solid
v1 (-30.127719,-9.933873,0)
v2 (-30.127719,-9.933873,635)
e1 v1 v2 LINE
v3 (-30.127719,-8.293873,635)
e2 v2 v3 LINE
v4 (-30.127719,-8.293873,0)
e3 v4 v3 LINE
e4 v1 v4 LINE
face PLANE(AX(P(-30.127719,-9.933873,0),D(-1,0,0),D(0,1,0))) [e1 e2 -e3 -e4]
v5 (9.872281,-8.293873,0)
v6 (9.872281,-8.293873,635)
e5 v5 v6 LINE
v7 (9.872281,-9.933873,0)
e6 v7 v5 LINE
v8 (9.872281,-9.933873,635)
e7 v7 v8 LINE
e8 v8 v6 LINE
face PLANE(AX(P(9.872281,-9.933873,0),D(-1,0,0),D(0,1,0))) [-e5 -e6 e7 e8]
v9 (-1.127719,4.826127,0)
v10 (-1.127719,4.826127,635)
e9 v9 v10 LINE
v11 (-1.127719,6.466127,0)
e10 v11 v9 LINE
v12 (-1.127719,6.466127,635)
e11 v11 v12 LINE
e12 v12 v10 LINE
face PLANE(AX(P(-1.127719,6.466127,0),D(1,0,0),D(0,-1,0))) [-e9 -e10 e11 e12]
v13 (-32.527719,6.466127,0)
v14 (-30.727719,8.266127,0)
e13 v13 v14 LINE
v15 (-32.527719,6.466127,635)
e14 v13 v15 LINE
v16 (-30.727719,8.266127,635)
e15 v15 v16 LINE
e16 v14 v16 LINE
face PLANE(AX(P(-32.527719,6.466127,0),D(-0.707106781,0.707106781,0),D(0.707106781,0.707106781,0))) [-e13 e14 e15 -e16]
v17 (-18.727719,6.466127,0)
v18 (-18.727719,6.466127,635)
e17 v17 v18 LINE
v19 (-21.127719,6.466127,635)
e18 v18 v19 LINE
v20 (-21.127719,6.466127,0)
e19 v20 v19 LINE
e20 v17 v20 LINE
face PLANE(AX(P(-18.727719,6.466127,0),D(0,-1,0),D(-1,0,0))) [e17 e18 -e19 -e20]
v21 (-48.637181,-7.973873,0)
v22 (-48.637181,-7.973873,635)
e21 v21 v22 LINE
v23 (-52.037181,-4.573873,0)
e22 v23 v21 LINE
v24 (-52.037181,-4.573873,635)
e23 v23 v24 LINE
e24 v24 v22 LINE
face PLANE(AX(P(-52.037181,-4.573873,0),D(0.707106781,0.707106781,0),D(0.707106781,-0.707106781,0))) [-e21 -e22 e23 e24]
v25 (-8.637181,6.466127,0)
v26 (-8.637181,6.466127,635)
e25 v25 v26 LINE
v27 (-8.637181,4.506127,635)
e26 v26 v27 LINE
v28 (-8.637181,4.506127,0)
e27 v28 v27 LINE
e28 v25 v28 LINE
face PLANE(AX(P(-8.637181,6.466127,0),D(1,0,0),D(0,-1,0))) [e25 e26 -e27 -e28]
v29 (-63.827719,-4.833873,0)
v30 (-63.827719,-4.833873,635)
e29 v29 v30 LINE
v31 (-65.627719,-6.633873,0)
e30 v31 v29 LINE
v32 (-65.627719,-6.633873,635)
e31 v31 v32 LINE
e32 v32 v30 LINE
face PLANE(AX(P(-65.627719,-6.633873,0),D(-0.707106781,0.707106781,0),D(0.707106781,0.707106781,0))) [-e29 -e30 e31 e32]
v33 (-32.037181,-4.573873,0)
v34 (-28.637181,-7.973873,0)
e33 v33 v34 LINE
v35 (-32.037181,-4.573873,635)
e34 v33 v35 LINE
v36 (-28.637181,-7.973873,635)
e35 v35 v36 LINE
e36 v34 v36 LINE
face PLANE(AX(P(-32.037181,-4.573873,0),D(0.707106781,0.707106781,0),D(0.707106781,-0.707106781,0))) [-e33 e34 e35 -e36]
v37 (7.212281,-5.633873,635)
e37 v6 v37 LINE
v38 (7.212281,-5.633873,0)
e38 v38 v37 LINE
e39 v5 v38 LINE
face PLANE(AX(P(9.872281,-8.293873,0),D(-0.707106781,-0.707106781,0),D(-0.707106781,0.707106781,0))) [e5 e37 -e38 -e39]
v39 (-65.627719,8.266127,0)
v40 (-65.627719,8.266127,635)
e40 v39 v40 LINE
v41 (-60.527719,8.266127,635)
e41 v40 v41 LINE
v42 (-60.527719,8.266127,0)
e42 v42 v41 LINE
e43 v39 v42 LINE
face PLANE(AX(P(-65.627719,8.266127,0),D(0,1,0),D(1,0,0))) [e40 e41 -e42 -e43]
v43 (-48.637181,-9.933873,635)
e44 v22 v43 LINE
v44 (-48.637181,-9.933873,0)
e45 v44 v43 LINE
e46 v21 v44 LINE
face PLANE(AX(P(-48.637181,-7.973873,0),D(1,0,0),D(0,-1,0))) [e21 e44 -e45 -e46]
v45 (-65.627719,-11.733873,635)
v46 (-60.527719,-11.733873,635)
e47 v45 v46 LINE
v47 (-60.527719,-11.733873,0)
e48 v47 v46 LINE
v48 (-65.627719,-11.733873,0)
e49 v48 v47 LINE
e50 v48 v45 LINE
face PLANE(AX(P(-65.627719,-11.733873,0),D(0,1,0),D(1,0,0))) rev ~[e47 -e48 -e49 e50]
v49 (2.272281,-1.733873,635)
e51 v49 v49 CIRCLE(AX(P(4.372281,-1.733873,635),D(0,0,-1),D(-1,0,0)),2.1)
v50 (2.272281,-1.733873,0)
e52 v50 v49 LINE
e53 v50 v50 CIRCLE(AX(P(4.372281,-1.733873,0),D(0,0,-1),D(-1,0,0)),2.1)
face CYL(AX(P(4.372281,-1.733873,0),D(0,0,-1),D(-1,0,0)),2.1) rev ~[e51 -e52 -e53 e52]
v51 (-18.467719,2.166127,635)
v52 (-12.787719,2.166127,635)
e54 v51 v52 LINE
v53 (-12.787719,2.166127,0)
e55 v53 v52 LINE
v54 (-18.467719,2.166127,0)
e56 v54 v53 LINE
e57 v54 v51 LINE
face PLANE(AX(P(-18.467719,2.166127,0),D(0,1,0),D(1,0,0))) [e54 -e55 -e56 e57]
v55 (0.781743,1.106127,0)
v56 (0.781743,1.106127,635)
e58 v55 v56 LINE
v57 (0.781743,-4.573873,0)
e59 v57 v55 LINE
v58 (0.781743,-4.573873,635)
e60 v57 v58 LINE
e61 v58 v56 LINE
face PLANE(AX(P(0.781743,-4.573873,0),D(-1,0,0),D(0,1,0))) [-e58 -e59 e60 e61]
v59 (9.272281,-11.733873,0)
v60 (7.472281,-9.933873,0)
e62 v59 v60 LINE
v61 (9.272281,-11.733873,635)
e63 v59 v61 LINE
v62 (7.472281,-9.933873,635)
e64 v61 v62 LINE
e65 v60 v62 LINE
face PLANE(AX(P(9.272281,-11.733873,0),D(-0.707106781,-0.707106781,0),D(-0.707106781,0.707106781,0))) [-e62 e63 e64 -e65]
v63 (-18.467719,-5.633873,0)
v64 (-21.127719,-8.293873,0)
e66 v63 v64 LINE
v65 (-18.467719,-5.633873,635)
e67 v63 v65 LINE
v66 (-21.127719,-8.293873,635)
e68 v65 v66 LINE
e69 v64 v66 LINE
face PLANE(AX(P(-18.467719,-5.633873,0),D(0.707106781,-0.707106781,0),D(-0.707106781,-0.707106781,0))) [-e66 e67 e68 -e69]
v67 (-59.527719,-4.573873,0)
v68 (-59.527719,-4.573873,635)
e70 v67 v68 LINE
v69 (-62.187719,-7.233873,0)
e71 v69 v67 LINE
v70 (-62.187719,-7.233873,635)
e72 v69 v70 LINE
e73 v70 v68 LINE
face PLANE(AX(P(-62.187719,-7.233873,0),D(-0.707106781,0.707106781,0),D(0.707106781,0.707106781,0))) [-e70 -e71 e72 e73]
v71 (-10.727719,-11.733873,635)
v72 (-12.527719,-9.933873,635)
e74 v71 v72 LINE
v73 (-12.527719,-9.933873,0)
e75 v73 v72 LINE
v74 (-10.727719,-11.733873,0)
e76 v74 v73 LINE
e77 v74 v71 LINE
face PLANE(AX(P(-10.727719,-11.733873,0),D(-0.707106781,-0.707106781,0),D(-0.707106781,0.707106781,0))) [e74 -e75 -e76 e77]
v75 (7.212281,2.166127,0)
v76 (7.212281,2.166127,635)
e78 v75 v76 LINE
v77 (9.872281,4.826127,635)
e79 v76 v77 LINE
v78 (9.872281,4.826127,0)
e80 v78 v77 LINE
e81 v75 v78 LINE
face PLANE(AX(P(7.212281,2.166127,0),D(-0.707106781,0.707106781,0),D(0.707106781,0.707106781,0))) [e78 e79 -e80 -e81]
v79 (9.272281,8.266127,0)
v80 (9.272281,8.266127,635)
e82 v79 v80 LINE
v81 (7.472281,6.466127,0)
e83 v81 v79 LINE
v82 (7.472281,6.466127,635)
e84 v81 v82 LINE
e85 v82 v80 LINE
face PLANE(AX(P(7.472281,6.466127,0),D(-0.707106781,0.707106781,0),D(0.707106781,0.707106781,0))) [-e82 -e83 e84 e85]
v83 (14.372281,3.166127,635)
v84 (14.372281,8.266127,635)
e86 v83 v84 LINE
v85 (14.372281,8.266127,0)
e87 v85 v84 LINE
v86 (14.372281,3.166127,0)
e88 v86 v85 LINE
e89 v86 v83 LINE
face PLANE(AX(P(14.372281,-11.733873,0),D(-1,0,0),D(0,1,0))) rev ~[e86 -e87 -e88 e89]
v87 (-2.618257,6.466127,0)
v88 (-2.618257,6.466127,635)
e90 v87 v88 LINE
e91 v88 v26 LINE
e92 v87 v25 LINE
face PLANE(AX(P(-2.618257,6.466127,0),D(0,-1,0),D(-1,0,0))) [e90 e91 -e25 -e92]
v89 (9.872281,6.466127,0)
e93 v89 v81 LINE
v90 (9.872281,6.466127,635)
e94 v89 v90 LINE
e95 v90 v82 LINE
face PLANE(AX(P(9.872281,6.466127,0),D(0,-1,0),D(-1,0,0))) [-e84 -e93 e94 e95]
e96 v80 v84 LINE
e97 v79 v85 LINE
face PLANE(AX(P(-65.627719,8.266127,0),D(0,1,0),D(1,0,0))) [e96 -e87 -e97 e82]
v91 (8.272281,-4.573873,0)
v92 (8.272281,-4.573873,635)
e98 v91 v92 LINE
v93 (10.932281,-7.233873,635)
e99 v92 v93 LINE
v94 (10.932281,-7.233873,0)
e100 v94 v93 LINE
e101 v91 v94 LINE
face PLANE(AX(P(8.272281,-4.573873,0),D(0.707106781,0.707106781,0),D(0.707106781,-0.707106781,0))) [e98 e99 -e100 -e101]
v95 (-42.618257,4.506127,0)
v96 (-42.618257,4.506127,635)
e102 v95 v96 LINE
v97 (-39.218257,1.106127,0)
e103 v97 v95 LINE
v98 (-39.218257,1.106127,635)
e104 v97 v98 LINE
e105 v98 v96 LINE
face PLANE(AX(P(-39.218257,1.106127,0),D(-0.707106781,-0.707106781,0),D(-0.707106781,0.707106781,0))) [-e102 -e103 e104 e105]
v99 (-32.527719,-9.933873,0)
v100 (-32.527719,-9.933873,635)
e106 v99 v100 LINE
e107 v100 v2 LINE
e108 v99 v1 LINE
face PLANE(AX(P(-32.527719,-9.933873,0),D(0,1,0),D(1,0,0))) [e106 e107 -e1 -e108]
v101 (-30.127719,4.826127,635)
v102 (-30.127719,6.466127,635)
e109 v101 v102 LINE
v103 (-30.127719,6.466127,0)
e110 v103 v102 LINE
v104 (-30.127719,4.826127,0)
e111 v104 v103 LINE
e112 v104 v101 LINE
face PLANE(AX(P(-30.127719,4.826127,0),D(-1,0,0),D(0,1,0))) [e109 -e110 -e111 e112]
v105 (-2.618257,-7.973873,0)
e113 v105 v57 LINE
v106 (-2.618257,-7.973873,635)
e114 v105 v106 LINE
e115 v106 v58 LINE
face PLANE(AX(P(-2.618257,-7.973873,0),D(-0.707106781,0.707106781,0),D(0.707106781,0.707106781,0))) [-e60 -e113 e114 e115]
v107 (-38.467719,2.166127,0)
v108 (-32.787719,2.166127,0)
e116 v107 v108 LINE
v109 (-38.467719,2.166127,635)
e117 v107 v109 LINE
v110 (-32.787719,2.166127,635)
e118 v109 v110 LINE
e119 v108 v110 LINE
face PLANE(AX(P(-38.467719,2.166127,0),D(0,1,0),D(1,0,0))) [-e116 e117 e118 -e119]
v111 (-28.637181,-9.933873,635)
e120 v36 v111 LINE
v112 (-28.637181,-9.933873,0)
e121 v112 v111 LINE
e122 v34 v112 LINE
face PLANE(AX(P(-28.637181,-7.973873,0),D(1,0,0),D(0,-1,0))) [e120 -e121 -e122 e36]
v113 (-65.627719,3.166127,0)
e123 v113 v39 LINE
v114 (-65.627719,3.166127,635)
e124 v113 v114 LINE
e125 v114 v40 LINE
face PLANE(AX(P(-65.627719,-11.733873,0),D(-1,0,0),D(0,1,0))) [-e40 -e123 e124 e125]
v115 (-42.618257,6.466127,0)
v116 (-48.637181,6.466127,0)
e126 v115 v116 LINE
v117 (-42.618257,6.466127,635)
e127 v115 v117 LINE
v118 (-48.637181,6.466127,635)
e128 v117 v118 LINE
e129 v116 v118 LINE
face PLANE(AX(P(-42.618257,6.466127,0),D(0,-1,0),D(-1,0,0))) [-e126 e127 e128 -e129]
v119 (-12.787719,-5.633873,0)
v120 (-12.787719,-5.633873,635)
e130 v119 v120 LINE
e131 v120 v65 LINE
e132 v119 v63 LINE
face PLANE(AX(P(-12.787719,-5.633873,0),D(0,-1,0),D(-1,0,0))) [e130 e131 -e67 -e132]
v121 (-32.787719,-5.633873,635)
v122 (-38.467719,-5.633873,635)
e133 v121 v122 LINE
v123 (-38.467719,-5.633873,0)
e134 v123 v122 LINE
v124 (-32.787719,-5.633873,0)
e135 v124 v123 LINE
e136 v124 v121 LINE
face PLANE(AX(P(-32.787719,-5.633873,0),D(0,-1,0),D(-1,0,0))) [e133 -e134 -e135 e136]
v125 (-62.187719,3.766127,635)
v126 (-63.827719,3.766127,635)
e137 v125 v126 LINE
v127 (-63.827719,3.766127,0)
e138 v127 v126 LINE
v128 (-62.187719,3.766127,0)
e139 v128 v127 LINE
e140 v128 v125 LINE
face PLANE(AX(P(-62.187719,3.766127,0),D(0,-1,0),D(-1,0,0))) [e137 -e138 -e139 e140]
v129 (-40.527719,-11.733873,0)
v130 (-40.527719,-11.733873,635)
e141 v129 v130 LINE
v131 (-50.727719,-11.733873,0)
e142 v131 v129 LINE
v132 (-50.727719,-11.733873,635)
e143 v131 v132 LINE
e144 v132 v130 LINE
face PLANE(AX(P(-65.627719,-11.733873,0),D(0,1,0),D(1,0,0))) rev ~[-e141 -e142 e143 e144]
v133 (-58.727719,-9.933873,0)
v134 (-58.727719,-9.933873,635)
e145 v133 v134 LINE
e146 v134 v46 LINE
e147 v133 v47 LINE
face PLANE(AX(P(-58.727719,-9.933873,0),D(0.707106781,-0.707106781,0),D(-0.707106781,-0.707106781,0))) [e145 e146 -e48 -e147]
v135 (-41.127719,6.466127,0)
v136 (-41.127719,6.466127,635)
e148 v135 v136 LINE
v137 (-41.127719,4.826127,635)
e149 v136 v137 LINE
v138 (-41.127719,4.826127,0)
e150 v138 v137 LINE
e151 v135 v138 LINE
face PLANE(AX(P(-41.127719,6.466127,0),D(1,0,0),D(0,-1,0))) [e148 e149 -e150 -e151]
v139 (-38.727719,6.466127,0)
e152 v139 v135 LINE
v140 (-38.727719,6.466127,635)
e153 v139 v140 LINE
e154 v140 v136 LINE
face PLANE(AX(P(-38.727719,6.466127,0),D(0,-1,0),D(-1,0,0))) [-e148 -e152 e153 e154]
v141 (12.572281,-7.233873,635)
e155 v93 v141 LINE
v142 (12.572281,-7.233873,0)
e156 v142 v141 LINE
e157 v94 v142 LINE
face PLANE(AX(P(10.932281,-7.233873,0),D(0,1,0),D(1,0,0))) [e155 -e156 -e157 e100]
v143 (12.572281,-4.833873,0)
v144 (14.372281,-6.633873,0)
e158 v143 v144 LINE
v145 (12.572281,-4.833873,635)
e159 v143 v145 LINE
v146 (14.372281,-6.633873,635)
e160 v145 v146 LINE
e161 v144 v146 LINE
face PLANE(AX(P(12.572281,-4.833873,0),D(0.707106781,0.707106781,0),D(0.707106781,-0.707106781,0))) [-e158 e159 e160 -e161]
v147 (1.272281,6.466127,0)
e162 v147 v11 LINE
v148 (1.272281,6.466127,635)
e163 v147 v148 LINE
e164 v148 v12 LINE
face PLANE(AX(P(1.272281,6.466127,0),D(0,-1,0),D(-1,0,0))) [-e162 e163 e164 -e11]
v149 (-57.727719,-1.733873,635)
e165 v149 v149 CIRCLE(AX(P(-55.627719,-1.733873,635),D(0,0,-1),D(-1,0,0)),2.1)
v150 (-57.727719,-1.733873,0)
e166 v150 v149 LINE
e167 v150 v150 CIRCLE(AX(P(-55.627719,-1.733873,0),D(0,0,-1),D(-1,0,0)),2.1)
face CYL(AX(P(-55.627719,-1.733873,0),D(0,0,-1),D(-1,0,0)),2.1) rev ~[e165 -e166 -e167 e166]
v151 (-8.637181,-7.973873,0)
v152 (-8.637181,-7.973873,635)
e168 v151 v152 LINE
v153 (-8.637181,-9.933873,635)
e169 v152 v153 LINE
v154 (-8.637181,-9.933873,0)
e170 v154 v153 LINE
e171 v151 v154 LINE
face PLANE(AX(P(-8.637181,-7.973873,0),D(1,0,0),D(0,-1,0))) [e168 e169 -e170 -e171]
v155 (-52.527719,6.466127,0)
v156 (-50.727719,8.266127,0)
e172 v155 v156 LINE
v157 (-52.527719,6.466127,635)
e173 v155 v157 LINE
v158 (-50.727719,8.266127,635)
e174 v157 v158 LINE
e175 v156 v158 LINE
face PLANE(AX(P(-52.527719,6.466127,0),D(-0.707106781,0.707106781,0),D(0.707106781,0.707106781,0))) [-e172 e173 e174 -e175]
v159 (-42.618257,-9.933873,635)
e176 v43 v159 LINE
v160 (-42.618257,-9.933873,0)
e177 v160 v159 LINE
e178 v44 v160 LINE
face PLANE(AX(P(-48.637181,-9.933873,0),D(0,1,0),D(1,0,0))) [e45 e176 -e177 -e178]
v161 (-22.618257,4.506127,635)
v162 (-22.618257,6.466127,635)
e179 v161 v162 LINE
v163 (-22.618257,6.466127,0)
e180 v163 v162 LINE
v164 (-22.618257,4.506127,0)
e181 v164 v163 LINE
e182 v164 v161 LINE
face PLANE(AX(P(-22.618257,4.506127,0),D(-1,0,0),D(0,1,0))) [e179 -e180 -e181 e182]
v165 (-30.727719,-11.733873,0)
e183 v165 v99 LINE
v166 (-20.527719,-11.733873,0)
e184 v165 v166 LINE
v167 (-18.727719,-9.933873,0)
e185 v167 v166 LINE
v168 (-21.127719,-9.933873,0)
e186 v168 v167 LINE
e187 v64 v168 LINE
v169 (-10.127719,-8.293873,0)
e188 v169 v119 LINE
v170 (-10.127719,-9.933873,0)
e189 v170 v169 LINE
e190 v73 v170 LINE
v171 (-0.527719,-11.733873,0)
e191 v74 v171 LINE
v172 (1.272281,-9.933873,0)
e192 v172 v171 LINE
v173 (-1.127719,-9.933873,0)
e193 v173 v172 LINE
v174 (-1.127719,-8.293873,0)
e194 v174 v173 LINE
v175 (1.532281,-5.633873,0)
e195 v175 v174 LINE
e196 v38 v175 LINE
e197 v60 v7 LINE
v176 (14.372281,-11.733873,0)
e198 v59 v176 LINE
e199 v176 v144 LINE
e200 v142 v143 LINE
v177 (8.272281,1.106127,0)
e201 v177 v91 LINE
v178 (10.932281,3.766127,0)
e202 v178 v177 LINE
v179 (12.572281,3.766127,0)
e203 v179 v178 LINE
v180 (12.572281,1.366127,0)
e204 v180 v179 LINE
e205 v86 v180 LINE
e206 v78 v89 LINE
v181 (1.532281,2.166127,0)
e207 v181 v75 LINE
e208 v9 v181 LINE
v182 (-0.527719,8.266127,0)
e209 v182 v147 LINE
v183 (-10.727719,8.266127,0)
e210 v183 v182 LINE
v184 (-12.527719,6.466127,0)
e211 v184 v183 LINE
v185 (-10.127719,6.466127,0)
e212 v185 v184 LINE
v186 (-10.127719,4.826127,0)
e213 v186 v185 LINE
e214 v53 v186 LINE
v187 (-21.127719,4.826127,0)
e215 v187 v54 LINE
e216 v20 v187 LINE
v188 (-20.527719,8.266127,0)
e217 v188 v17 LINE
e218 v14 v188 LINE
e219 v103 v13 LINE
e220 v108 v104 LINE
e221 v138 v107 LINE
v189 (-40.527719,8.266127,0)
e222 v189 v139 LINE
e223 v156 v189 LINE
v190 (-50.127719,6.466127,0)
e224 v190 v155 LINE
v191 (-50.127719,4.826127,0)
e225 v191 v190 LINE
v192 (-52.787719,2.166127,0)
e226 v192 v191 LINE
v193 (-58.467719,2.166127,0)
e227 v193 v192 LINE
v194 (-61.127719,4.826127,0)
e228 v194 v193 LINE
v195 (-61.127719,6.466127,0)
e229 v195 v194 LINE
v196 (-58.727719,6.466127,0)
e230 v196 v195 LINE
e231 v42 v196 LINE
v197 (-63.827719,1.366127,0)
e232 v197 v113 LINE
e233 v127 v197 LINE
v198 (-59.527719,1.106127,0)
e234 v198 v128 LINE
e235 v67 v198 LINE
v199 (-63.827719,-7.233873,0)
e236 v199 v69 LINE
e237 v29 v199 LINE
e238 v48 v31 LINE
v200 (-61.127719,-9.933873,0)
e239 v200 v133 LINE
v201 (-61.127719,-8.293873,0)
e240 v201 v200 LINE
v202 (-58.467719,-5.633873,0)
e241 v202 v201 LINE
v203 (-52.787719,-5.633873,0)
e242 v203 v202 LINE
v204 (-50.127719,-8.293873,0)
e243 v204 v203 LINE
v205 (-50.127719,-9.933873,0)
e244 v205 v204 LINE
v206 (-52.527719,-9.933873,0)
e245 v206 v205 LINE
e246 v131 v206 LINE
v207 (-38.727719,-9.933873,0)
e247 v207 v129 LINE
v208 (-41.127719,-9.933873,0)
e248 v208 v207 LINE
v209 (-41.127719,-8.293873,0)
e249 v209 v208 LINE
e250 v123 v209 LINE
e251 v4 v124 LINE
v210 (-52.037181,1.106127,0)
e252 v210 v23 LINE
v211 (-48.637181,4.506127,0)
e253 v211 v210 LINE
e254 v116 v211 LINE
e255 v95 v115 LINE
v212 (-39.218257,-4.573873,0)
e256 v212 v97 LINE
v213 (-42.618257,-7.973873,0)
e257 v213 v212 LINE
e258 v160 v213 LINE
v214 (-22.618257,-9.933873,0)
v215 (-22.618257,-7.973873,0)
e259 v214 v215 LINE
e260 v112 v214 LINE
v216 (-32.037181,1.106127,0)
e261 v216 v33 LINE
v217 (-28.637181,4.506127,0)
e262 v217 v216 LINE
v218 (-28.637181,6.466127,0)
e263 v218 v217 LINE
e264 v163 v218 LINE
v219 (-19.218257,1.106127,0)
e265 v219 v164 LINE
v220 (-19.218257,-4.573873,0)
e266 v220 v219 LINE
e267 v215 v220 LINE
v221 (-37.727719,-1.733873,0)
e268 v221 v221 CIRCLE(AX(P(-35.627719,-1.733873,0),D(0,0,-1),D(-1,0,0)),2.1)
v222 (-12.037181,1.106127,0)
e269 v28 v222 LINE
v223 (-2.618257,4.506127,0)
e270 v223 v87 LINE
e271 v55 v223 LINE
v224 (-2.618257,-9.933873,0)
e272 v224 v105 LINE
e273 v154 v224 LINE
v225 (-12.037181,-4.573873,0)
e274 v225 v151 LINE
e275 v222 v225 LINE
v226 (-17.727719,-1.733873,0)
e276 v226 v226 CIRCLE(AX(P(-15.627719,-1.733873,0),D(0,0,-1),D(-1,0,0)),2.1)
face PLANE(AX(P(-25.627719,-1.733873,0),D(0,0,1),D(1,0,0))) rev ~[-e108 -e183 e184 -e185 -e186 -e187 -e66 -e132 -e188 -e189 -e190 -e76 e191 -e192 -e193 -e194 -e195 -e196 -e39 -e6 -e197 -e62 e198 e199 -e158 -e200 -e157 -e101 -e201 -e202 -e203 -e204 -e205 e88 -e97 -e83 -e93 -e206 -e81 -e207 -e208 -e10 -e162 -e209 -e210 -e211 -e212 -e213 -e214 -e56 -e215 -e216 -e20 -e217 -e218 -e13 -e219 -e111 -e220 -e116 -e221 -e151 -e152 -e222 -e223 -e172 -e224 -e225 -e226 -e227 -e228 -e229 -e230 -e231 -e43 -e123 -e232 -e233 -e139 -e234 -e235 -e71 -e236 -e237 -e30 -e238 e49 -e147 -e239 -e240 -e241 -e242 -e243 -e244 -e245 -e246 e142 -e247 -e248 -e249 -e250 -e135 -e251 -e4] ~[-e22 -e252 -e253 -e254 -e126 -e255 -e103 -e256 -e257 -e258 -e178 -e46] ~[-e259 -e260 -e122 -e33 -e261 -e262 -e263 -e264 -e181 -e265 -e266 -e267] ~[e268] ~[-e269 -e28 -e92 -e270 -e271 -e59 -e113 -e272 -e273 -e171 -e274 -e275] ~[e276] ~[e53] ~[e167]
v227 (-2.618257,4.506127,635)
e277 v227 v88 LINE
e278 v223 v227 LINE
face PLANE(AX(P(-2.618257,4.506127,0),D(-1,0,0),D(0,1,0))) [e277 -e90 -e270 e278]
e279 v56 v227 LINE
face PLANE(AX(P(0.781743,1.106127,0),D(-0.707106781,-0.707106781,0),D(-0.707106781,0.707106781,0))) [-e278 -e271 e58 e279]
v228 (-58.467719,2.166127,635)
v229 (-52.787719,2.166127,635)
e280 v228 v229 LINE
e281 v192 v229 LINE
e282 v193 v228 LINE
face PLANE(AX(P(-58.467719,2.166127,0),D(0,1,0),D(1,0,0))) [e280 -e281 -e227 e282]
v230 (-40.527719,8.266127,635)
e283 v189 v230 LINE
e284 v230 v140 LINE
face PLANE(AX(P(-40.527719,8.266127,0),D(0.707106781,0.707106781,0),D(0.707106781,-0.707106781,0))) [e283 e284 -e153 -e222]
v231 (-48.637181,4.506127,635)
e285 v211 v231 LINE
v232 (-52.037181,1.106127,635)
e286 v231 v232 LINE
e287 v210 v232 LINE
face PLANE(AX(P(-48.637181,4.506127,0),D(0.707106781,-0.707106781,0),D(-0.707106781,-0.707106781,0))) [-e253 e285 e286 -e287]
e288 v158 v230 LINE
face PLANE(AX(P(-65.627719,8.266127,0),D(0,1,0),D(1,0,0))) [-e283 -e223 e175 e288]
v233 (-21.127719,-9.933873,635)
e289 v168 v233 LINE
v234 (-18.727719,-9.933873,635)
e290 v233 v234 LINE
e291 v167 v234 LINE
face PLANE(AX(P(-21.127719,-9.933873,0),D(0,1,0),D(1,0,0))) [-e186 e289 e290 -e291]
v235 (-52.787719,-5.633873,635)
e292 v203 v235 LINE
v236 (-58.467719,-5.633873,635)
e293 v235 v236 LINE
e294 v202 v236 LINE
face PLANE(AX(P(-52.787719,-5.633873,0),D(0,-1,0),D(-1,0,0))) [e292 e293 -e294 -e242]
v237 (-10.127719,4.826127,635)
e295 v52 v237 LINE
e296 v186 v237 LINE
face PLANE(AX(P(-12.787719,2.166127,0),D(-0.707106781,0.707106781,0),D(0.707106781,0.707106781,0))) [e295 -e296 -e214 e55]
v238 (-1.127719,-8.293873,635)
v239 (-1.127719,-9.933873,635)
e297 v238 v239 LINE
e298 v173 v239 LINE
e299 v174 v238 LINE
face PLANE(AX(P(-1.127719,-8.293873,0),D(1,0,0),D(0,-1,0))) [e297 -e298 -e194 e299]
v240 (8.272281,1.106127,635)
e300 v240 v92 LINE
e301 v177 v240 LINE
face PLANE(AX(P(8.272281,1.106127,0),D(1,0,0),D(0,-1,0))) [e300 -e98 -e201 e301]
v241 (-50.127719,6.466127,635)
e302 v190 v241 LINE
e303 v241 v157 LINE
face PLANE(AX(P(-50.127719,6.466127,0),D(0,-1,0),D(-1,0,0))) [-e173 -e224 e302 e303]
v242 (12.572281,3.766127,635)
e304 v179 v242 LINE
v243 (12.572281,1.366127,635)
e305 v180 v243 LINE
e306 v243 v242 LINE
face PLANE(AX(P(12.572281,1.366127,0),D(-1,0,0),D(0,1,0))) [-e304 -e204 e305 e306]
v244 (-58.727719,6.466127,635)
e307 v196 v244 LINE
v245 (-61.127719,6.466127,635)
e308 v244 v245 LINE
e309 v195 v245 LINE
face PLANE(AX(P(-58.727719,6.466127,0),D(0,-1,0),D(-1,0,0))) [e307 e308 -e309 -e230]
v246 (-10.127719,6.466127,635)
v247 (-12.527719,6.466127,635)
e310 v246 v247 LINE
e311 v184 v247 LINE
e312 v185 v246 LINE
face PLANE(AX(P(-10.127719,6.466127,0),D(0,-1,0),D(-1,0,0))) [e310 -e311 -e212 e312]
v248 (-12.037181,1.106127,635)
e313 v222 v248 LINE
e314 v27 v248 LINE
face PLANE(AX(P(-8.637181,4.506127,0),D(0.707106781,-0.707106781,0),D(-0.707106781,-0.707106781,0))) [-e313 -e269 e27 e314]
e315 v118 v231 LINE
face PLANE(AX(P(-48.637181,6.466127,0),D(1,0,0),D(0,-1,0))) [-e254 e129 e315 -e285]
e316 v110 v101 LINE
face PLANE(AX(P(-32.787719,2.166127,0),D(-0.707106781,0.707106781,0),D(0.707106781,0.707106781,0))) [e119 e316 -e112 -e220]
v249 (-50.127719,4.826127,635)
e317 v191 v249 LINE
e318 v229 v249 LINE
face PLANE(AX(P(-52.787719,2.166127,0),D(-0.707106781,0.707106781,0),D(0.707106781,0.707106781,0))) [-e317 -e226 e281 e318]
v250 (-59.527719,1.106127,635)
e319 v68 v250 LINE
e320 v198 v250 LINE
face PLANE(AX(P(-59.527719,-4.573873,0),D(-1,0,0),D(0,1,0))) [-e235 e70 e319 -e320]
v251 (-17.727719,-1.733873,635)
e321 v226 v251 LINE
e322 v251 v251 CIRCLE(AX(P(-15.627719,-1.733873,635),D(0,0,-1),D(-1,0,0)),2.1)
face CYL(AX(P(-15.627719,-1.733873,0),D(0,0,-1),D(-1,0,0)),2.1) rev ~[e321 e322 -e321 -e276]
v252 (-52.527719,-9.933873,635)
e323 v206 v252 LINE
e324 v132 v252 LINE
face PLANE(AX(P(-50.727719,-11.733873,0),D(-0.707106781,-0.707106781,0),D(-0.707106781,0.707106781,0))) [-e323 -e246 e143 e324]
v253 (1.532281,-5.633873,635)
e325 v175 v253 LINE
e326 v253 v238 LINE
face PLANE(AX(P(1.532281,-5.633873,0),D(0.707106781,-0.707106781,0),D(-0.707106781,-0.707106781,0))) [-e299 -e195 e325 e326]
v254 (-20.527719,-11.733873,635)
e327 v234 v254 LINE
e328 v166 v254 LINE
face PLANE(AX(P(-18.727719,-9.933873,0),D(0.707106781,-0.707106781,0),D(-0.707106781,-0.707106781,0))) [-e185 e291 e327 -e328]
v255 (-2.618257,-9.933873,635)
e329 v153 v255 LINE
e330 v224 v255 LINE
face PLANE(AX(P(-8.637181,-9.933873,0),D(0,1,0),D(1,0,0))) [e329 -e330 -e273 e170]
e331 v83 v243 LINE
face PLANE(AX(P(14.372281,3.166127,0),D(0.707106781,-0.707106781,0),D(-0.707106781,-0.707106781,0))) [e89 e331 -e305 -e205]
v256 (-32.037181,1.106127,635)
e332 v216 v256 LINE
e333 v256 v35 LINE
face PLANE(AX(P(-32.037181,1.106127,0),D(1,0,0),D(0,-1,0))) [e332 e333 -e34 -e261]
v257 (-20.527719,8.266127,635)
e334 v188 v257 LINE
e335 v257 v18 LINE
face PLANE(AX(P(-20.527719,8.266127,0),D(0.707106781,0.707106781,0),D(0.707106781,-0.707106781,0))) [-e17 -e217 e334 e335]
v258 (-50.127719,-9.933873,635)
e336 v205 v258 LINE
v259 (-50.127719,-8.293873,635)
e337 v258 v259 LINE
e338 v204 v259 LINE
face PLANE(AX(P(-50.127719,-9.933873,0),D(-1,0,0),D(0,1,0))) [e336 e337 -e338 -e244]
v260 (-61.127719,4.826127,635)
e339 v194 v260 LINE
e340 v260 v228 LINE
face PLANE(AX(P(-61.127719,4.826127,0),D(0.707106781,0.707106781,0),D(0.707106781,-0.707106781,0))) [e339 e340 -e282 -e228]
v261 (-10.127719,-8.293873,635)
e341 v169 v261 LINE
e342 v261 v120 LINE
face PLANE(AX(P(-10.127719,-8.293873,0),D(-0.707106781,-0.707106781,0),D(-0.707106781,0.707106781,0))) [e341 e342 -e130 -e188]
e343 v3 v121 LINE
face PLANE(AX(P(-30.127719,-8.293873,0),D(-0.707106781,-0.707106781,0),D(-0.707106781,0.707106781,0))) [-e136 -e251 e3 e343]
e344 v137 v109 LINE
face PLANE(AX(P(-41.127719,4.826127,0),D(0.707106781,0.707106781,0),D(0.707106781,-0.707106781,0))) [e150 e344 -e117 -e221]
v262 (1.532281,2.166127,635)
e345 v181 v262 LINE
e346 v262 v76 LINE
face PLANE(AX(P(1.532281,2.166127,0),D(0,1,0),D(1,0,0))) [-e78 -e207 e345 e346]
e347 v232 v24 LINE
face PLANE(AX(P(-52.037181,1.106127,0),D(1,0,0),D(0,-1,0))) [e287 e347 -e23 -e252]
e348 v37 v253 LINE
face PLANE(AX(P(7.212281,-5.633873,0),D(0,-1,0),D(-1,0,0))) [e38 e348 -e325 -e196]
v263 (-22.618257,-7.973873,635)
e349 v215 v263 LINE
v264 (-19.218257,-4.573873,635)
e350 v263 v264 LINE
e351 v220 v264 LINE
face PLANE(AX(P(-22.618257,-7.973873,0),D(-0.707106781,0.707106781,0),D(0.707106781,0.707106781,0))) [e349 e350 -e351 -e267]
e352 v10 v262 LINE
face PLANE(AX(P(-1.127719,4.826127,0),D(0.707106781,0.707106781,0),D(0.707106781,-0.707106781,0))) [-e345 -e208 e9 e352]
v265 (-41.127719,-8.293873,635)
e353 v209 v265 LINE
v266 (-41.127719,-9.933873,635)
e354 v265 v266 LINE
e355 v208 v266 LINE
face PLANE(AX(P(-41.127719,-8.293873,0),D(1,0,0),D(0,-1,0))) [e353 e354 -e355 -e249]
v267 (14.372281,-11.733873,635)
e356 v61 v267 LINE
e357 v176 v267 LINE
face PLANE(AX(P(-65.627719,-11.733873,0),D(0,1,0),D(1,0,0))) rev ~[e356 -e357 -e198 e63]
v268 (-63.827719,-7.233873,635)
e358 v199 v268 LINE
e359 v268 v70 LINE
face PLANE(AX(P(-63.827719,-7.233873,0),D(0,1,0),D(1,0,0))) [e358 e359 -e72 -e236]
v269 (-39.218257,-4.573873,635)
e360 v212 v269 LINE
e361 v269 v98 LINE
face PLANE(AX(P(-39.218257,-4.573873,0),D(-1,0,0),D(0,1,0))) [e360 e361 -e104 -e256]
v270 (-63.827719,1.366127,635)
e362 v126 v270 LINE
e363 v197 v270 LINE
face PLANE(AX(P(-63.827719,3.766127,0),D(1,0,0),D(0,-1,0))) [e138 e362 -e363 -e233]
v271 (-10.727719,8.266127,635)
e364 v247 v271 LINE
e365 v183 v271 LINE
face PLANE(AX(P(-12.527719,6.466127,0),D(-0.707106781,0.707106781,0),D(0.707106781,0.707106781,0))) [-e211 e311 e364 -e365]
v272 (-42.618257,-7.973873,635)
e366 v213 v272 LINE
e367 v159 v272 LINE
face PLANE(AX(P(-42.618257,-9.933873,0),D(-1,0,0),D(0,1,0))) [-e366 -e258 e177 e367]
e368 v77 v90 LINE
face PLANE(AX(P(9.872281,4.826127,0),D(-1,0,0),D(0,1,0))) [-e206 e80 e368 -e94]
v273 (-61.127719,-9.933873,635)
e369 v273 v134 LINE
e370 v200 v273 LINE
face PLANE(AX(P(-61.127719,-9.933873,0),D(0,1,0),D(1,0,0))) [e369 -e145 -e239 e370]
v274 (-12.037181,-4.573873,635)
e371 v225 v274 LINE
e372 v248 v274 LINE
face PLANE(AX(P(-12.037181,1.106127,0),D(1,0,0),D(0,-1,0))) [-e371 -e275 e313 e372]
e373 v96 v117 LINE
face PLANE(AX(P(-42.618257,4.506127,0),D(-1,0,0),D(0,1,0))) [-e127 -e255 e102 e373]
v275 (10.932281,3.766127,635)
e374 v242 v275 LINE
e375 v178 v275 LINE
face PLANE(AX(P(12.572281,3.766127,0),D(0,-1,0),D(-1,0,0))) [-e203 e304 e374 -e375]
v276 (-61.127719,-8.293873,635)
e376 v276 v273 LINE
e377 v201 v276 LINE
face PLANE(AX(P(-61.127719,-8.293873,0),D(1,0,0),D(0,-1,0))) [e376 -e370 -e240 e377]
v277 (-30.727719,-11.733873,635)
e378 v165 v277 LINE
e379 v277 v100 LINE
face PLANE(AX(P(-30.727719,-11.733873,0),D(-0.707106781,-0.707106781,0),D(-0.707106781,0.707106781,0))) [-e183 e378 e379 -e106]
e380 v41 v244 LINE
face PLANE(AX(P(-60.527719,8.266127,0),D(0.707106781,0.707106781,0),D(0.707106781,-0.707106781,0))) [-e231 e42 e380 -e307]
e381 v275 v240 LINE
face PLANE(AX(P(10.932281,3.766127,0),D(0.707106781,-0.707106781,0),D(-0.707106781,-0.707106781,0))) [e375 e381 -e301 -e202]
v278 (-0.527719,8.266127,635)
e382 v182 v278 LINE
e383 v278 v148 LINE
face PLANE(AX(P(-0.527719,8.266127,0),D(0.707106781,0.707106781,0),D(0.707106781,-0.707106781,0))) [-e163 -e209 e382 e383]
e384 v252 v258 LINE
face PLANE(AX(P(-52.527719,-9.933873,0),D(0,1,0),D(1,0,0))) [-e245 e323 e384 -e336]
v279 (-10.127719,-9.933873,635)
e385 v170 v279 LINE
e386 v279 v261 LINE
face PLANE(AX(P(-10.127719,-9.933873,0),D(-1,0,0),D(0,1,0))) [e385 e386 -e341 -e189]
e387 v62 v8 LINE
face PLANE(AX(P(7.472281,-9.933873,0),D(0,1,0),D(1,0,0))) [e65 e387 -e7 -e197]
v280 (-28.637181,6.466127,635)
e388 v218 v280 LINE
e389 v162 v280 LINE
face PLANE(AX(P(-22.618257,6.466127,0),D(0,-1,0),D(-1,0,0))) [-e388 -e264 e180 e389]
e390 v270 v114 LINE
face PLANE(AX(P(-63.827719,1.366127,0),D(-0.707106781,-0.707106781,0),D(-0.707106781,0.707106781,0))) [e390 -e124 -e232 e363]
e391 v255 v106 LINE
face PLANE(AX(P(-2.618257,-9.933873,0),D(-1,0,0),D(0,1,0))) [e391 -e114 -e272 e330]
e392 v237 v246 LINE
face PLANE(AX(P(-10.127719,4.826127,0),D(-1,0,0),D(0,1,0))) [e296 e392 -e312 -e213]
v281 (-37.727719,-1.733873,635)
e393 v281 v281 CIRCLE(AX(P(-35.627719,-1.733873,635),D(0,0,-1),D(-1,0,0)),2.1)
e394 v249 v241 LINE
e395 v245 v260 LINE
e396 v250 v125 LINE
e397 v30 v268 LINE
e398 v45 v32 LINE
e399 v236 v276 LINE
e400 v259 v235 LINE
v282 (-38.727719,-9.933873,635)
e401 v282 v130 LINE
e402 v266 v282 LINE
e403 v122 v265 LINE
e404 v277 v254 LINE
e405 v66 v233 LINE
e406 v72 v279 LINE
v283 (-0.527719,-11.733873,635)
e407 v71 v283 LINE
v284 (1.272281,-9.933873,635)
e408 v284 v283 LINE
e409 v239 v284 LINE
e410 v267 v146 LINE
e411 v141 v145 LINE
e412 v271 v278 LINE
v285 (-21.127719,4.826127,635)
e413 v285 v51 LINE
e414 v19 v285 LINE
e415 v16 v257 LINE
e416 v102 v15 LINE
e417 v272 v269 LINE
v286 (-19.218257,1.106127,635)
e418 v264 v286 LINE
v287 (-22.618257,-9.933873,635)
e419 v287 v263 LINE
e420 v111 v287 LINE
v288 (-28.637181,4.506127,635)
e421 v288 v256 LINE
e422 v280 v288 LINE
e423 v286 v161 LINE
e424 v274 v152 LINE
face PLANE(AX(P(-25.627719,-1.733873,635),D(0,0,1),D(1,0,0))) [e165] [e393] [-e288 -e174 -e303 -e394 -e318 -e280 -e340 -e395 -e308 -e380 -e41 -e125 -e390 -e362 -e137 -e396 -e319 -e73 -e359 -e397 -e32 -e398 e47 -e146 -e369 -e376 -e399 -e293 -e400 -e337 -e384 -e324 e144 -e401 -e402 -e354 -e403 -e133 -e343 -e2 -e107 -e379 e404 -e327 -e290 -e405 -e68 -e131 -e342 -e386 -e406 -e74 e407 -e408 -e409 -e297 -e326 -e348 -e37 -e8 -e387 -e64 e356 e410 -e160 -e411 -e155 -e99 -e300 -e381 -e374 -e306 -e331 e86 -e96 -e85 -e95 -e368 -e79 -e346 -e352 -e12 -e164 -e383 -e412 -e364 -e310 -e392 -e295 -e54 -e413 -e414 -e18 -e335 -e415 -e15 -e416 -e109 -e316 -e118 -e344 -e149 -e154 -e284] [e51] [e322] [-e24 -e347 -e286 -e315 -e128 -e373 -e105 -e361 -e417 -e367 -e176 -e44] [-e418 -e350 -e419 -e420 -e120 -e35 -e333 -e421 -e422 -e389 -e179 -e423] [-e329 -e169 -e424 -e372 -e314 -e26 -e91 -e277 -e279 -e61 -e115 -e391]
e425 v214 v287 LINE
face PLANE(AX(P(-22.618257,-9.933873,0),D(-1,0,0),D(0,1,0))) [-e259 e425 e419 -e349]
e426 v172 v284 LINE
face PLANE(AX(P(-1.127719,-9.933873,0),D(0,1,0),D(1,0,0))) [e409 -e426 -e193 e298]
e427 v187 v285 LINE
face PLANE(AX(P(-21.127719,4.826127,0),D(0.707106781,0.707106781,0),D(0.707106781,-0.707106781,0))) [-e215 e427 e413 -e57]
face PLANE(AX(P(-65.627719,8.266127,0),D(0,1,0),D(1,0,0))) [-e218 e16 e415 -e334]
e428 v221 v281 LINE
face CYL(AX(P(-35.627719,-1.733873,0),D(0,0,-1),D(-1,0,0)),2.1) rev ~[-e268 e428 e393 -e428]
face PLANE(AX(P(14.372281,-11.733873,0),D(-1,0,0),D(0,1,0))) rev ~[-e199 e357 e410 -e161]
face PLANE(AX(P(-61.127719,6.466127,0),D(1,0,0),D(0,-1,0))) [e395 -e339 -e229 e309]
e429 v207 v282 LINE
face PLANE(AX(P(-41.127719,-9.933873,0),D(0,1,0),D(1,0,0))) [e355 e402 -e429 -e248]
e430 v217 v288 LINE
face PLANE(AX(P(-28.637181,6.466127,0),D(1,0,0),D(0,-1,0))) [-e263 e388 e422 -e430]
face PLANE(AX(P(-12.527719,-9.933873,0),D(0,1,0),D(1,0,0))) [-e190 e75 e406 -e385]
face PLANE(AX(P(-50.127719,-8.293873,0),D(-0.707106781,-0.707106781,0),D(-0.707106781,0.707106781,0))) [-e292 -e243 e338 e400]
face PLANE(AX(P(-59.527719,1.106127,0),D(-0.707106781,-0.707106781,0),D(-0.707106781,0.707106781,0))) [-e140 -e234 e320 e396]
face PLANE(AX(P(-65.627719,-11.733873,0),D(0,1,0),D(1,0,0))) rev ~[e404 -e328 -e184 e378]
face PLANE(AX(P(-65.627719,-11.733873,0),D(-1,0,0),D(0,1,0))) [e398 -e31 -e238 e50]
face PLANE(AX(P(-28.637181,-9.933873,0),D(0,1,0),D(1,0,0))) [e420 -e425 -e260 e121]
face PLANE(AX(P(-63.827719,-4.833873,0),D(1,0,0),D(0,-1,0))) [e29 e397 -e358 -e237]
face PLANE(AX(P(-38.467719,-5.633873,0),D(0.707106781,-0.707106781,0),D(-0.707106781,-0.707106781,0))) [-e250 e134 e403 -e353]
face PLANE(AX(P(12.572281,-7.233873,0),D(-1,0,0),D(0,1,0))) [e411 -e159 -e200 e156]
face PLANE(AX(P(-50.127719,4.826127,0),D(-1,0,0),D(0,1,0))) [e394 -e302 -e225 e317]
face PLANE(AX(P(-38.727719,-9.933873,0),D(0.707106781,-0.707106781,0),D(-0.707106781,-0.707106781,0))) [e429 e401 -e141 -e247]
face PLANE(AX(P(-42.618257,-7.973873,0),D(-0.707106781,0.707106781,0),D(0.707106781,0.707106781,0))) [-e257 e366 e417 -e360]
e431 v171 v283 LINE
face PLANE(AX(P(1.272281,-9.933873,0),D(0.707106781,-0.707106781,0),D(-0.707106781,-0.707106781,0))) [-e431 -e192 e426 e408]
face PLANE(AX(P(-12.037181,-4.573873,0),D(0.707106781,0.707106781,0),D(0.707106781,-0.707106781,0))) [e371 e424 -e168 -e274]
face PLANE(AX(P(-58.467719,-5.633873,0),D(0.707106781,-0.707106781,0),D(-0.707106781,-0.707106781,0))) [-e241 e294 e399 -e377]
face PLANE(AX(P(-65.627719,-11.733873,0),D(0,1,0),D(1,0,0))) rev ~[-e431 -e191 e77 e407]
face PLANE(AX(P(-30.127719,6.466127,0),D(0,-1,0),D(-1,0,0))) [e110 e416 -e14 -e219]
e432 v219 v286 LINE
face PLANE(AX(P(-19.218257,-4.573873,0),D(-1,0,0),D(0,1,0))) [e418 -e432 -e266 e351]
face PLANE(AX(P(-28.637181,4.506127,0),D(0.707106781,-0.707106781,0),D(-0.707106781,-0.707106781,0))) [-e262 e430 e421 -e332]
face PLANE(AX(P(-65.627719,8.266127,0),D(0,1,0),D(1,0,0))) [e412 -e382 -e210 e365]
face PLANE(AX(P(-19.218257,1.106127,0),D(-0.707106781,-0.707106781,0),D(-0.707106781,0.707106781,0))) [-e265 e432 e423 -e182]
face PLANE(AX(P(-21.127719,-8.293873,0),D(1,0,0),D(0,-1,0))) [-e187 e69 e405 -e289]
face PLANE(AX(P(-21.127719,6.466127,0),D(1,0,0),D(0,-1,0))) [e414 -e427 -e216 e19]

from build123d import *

# Parameters (mm, degrees)
ESQUISSE1_W             = 80
ESQUISSE1_H             = 20
BOSS_EXTRU_1_DEPTH      = 635
ENL_V_MAT_EXTRU_1_REACH = 640.49
ESQUISSE2_R             = 2.1
ENL_V_MAT_EXTRU_2_REACH = 640.49


with BuildPart() as part:
    # Esquisse1 → Boss.-Extru.1 (new body)
    with BuildSketch(Plane.XY):
        with Locations((-25.62771875, -1.733873274)):
            Rectangle(ESQUISSE1_W, ESQUISSE1_H)
    extrude(amount=BOSS_EXTRU_1_DEPTH)

    # Esquisse2 → Enlèv. mat.-Extru.1 (cut, up to next)
    with BuildSketch(Plane(origin=(0, 0, 0), x_dir=(-1, 0, 0), z_dir=(0, 0, -1)), mode=Mode.PRIVATE) as enl_v_mat_extru_1_sk1:
        with Locations((55.62771875, -1.733873274)):
            Circle(ESQUISSE2_R)
    enl_v_mat_extru_1_tool1 = extrude(enl_v_mat_extru_1_sk1.sketch, amount=-ENL_V_MAT_EXTRU_1_REACH, mode=Mode.PRIVATE) & part.part
    # Esquisse2 → Enlèv. mat.-Extru.1 (cut, up to next)
    with BuildSketch(Plane(origin=(0, 0, 0), x_dir=(-1, 0, 0), z_dir=(0, 0, -1)), mode=Mode.PRIVATE) as enl_v_mat_extru_1_sk2:
        with Locations((35.62771875, -1.733873274)):
            Circle(ESQUISSE2_R)
    enl_v_mat_extru_1_tool2 = extrude(enl_v_mat_extru_1_sk2.sketch, amount=-ENL_V_MAT_EXTRU_1_REACH, mode=Mode.PRIVATE) & part.part
    # Esquisse2 → Enlèv. mat.-Extru.1 (cut, up to next)
    with BuildSketch(Plane(origin=(0, 0, 0), x_dir=(-1, 0, 0), z_dir=(0, 0, -1)), mode=Mode.PRIVATE) as enl_v_mat_extru_1_sk3:
        with Locations((15.62771875, -1.733873274)):
            Circle(ESQUISSE2_R)
    enl_v_mat_extru_1_tool3 = extrude(enl_v_mat_extru_1_sk3.sketch, amount=-ENL_V_MAT_EXTRU_1_REACH, mode=Mode.PRIVATE) & part.part
    # Esquisse2 → Enlèv. mat.-Extru.1 (cut, up to next)
    with BuildSketch(Plane(origin=(0, 0, 0), x_dir=(-1, 0, 0), z_dir=(0, 0, -1)), mode=Mode.PRIVATE) as enl_v_mat_extru_1_sk4:
        with Locations((-4.37228125, -1.733873274)):
            Circle(ESQUISSE2_R)
    enl_v_mat_extru_1_tool4 = extrude(enl_v_mat_extru_1_sk4.sketch, amount=-ENL_V_MAT_EXTRU_1_REACH, mode=Mode.PRIVATE) & part.part
    # Esquisse2 → Enlèv. mat.-Extru.1 (cut, up to next)
    with BuildSketch(Plane(origin=(0, 0, 0), x_dir=(-1, 0, 0), z_dir=(0, 0, -1)), mode=Mode.PRIVATE) as enl_v_mat_extru_1_sk5:
        Polygon((50.72771875, 8.266126726), (60.52771875, 8.266126726), (58.72771875, 6.466126726), (61.12771875, 6.466126726), (61.12771875, 4.826126726), (58.46771875, 2.166126726), (52.78771875, 2.166126726), (50.12771875, 4.826126726), (50.12771875, 6.466126726), (52.52771875, 6.466126726), align=None)
    enl_v_mat_extru_1_tool5 = extrude(enl_v_mat_extru_1_sk5.sketch, amount=-ENL_V_MAT_EXTRU_1_REACH, mode=Mode.PRIVATE) & part.part
    # Esquisse2 → Enlèv. mat.-Extru.1 (cut, up to next)
    with BuildSketch(Plane(origin=(0, 0, 0), x_dir=(-1, 0, 0), z_dir=(0, 0, -1)), mode=Mode.PRIVATE) as enl_v_mat_extru_1_sk6:
        Polygon((65.62771875, 3.166126726), (65.62771875, -6.633873274), (63.82771875, -4.833873274), (63.82771875, -7.233873274), (62.18771875, -7.233873274), (59.52771875, -4.573873274), (59.52771875, 1.106126726), (62.18771875, 3.766126726), (63.82771875, 3.766126726), (63.82771875, 1.366126726), align=None)
    enl_v_mat_extru_1_tool6 = extrude(enl_v_mat_extru_1_sk6.sketch, amount=-ENL_V_MAT_EXTRU_1_REACH, mode=Mode.PRIVATE) & part.part
    # Esquisse2 → Enlèv. mat.-Extru.1 (cut, up to next)
    with BuildSketch(Plane(origin=(0, 0, 0), x_dir=(-1, 0, 0), z_dir=(0, 0, -1)), mode=Mode.PRIVATE) as enl_v_mat_extru_1_sk7:
        Polygon((60.52771875, -11.733873274), (50.72771875, -11.733873274), (52.52771875, -9.933873274), (50.12771875, -9.933873274), (50.12771875, -8.293873274), (52.78771875, -5.633873274), (58.46771875, -5.633873274), (61.12771875, -8.293873274), (61.12771875, -9.933873274), (58.72771875, -9.933873274), align=None)
    enl_v_mat_extru_1_tool7 = extrude(enl_v_mat_extru_1_sk7.sketch, amount=-ENL_V_MAT_EXTRU_1_REACH, mode=Mode.PRIVATE) & part.part
    # Esquisse2 → Enlèv. mat.-Extru.1 (cut, up to next)
    with BuildSketch(Plane(origin=(0, 0, 0), x_dir=(-1, 0, 0), z_dir=(0, 0, -1)), mode=Mode.PRIVATE) as enl_v_mat_extru_1_sk8:
        Polygon((30.72771875, 8.266126726), (40.52771875, 8.266126726), (38.72771875, 6.466126726), (41.12771875, 6.466126726), (41.12771875, 4.826126726), (38.46771875, 2.166126726), (32.78771875, 2.166126726), (30.12771875, 4.826126726), (30.12771875, 6.466126726), (32.52771875, 6.466126726), align=None)
    enl_v_mat_extru_1_tool8 = extrude(enl_v_mat_extru_1_sk8.sketch, amount=-ENL_V_MAT_EXTRU_1_REACH, mode=Mode.PRIVATE) & part.part
    # Esquisse2 → Enlèv. mat.-Extru.1 (cut, up to next)
    with BuildSketch(Plane(origin=(0, 0, 0), x_dir=(-1, 0, 0), z_dir=(0, 0, -1)), mode=Mode.PRIVATE) as enl_v_mat_extru_1_sk9:
        Polygon((40.52771875, -11.733873274), (30.72771875, -11.733873274), (32.52771875, -9.933873274), (30.12771875, -9.933873274), (30.12771875, -8.293873274), (32.78771875, -5.633873274), (38.46771875, -5.633873274), (41.12771875, -8.293873274), (41.12771875, -9.933873274), (38.72771875, -9.933873274), align=None)
    enl_v_mat_extru_1_tool9 = extrude(enl_v_mat_extru_1_sk9.sketch, amount=-ENL_V_MAT_EXTRU_1_REACH, mode=Mode.PRIVATE) & part.part
    # Esquisse2 → Enlèv. mat.-Extru.1 (cut, up to next)
    with BuildSketch(Plane(origin=(0, 0, 0), x_dir=(-1, 0, 0), z_dir=(0, 0, -1)), mode=Mode.PRIVATE) as enl_v_mat_extru_1_sk10:
        Polygon((10.72771875, 8.266126726), (20.52771875, 8.266126726), (18.72771875, 6.466126726), (21.12771875, 6.466126726), (21.12771875, 4.826126726), (18.46771875, 2.166126726), (12.78771875, 2.166126726), (10.12771875, 4.826126726), (10.12771875, 6.466126726), (12.52771875, 6.466126726), align=None)
    enl_v_mat_extru_1_tool10 = extrude(enl_v_mat_extru_1_sk10.sketch, amount=-ENL_V_MAT_EXTRU_1_REACH, mode=Mode.PRIVATE) & part.part
    # Esquisse2 → Enlèv. mat.-Extru.1 (cut, up to next)
    with BuildSketch(Plane(origin=(0, 0, 0), x_dir=(-1, 0, 0), z_dir=(0, 0, -1)), mode=Mode.PRIVATE) as enl_v_mat_extru_1_sk11:
        Polygon((20.52771875, -11.733873274), (10.72771875, -11.733873274), (12.52771875, -9.933873274), (10.12771875, -9.933873274), (10.12771875, -8.293873274), (12.78771875, -5.633873274), (18.46771875, -5.633873274), (21.12771875, -8.293873274), (21.12771875, -9.933873274), (18.72771875, -9.933873274), align=None)
    enl_v_mat_extru_1_tool11 = extrude(enl_v_mat_extru_1_sk11.sketch, amount=-ENL_V_MAT_EXTRU_1_REACH, mode=Mode.PRIVATE) & part.part
    # Esquisse2 → Enlèv. mat.-Extru.1 (cut, up to next)
    with BuildSketch(Plane(origin=(0, 0, 0), x_dir=(-1, 0, 0), z_dir=(0, 0, -1)), mode=Mode.PRIVATE) as enl_v_mat_extru_1_sk12:
        Polygon((-9.27228125, 8.266126726), (0.52771875, 8.266126726), (-1.27228125, 6.466126726), (1.12771875, 6.466126726), (1.12771875, 4.826126726), (-1.53228125, 2.166126726), (-7.21228125, 2.166126726), (-9.87228125, 4.826126726), (-9.87228125, 6.466126726), (-7.47228125, 6.466126726), align=None)
    enl_v_mat_extru_1_tool12 = extrude(enl_v_mat_extru_1_sk12.sketch, amount=-ENL_V_MAT_EXTRU_1_REACH, mode=Mode.PRIVATE) & part.part
    # Esquisse2 → Enlèv. mat.-Extru.1 (cut, up to next)
    with BuildSketch(Plane(origin=(0, 0, 0), x_dir=(-1, 0, 0), z_dir=(0, 0, -1)), mode=Mode.PRIVATE) as enl_v_mat_extru_1_sk13:
        Polygon((0.52771875, -11.733873274), (-9.27228125, -11.733873274), (-7.47228125, -9.933873274), (-9.87228125, -9.933873274), (-9.87228125, -8.293873274), (-7.21228125, -5.633873274), (-1.53228125, -5.633873274), (1.12771875, -8.293873274), (1.12771875, -9.933873274), (-1.27228125, -9.933873274), align=None)
    enl_v_mat_extru_1_tool13 = extrude(enl_v_mat_extru_1_sk13.sketch, amount=-ENL_V_MAT_EXTRU_1_REACH, mode=Mode.PRIVATE) & part.part
    # Esquisse2 → Enlèv. mat.-Extru.1 (cut, up to next)
    with BuildSketch(Plane(origin=(0, 0, 0), x_dir=(-1, 0, 0), z_dir=(0, 0, -1)), mode=Mode.PRIVATE) as enl_v_mat_extru_1_sk14:
        Polygon((-14.37228125, -6.633873274), (-14.37228125, 3.166126726), (-12.57228125, 1.366126726), (-12.57228125, 3.766126726), (-10.93228125, 3.766126726), (-8.27228125, 1.106126726), (-8.27228125, -4.573873274), (-10.93228125, -7.233873274), (-12.57228125, -7.233873274), (-12.57228125, -4.833873274), align=None)
    enl_v_mat_extru_1_tool14 = extrude(enl_v_mat_extru_1_sk14.sketch, amount=-ENL_V_MAT_EXTRU_1_REACH, mode=Mode.PRIVATE) & part.part
    add(enl_v_mat_extru_1_tool1.solids().sort_by_distance((-55.627719, -1.733873, 0))[0], mode=Mode.SUBTRACT)
    add(enl_v_mat_extru_1_tool2.solids().sort_by_distance((-35.627719, -1.733873, 0))[0], mode=Mode.SUBTRACT)
    add(enl_v_mat_extru_1_tool3.solids().sort_by_distance((-15.627719, -1.733873, 0))[0], mode=Mode.SUBTRACT)
    add(enl_v_mat_extru_1_tool4.solids().sort_by_distance((4.372281, -1.733873, 0))[0], mode=Mode.SUBTRACT)
    add(enl_v_mat_extru_1_tool5.solids().sort_by_distance((-55.627719, 5.301599, 0))[0], mode=Mode.SUBTRACT)
    add(enl_v_mat_extru_1_tool6.solids().sort_by_distance((-62.663191, -1.733873, 0))[0], mode=Mode.SUBTRACT)
    add(enl_v_mat_extru_1_tool7.solids().sort_by_distance((-55.627719, -8.769346, 0))[0], mode=Mode.SUBTRACT)
    add(enl_v_mat_extru_1_tool8.solids().sort_by_distance((-35.627719, 5.301599, 0))[0], mode=Mode.SUBTRACT)
    add(enl_v_mat_extru_1_tool9.solids().sort_by_distance((-35.627719, -8.769346, 0))[0], mode=Mode.SUBTRACT)
    add(enl_v_mat_extru_1_tool10.solids().sort_by_distance((-15.627719, 5.301599, 0))[0], mode=Mode.SUBTRACT)
    add(enl_v_mat_extru_1_tool11.solids().sort_by_distance((-15.627719, -8.769346, 0))[0], mode=Mode.SUBTRACT)
    add(enl_v_mat_extru_1_tool12.solids().sort_by_distance((4.372281, 5.301599, 0))[0], mode=Mode.SUBTRACT)
    add(enl_v_mat_extru_1_tool13.solids().sort_by_distance((4.372281, -8.769346, 0))[0], mode=Mode.SUBTRACT)
    add(enl_v_mat_extru_1_tool14.solids().sort_by_distance((11.407754, -1.733873, 0))[0], mode=Mode.SUBTRACT)

    # Esquisse3 → Enlèv. mat.-Extru.2 (cut, up to next)
    with BuildSketch(Plane(origin=(0, 0, 0), x_dir=(-1, 0, 0), z_dir=(0, 0, -1)), mode=Mode.PRIVATE) as enl_v_mat_extru_2_sk1:
        Polygon((2.618256699, 6.466126726), (8.637180802, 6.466126726), (8.637180802, 4.506126726), (12.037180802, 1.106126726), (12.037180802, -4.573873274), (8.637180802, -7.973873274), (8.637180802, -9.933873274), (2.618256699, -9.933873274), (2.618256699, -7.973873274), (-0.781743301, -4.573873274), (-0.781743301, 1.106126726), (2.618256699, 4.506126726), align=None)
    enl_v_mat_extru_2_tool1 = extrude(enl_v_mat_extru_2_sk1.sketch, amount=-ENL_V_MAT_EXTRU_2_REACH, mode=Mode.PRIVATE) & part.part
    # Esquisse3 → Enlèv. mat.-Extru.2 (cut, up to next)
    with BuildSketch(Plane(origin=(0, 0, 0), x_dir=(-1, 0, 0), z_dir=(0, 0, -1)), mode=Mode.PRIVATE) as enl_v_mat_extru_2_sk2:
        Polygon((22.618256699, 6.466126726), (28.637180802, 6.466126726), (28.637180802, 4.506126726), (32.037180802, 1.106126726), (32.037180802, -4.573873274), (28.637180802, -7.973873274), (28.637180802, -9.933873274), (22.618256699, -9.933873274), (22.618256699, -7.973873274), (19.218256699, -4.573873274), (19.218256699, 1.106126726), (22.618256699, 4.506126726), align=None)
    enl_v_mat_extru_2_tool2 = extrude(enl_v_mat_extru_2_sk2.sketch, amount=-ENL_V_MAT_EXTRU_2_REACH, mode=Mode.PRIVATE) & part.part
    # Esquisse3 → Enlèv. mat.-Extru.2 (cut, up to next)
    with BuildSketch(Plane(origin=(0, 0, 0), x_dir=(-1, 0, 0), z_dir=(0, 0, -1)), mode=Mode.PRIVATE) as enl_v_mat_extru_2_sk3:
        Polygon((42.618256699, 6.466126726), (48.637180802, 6.466126726), (48.637180802, 4.506126726), (52.037180802, 1.106126726), (52.037180802, -4.573873274), (48.637180802, -7.973873274), (48.637180802, -9.933873274), (42.618256699, -9.933873274), (42.618256699, -7.973873274), (39.218256699, -4.573873274), (39.218256699, 1.106126726), (42.618256699, 4.506126726), align=None)
    enl_v_mat_extru_2_tool3 = extrude(enl_v_mat_extru_2_sk3.sketch, amount=-ENL_V_MAT_EXTRU_2_REACH, mode=Mode.PRIVATE) & part.part
    add(enl_v_mat_extru_2_tool1.solids().sort_by_distance((-5.627719, -1.733873, 0))[0], mode=Mode.SUBTRACT)
    add(enl_v_mat_extru_2_tool2.solids().sort_by_distance((-25.627719, -1.733873, 0))[0], mode=Mode.SUBTRACT)
    add(enl_v_mat_extru_2_tool3.solids().sort_by_distance((-45.627719, -1.733873, 0))[0], mode=Mode.SUBTRACT)


solid = part.part
